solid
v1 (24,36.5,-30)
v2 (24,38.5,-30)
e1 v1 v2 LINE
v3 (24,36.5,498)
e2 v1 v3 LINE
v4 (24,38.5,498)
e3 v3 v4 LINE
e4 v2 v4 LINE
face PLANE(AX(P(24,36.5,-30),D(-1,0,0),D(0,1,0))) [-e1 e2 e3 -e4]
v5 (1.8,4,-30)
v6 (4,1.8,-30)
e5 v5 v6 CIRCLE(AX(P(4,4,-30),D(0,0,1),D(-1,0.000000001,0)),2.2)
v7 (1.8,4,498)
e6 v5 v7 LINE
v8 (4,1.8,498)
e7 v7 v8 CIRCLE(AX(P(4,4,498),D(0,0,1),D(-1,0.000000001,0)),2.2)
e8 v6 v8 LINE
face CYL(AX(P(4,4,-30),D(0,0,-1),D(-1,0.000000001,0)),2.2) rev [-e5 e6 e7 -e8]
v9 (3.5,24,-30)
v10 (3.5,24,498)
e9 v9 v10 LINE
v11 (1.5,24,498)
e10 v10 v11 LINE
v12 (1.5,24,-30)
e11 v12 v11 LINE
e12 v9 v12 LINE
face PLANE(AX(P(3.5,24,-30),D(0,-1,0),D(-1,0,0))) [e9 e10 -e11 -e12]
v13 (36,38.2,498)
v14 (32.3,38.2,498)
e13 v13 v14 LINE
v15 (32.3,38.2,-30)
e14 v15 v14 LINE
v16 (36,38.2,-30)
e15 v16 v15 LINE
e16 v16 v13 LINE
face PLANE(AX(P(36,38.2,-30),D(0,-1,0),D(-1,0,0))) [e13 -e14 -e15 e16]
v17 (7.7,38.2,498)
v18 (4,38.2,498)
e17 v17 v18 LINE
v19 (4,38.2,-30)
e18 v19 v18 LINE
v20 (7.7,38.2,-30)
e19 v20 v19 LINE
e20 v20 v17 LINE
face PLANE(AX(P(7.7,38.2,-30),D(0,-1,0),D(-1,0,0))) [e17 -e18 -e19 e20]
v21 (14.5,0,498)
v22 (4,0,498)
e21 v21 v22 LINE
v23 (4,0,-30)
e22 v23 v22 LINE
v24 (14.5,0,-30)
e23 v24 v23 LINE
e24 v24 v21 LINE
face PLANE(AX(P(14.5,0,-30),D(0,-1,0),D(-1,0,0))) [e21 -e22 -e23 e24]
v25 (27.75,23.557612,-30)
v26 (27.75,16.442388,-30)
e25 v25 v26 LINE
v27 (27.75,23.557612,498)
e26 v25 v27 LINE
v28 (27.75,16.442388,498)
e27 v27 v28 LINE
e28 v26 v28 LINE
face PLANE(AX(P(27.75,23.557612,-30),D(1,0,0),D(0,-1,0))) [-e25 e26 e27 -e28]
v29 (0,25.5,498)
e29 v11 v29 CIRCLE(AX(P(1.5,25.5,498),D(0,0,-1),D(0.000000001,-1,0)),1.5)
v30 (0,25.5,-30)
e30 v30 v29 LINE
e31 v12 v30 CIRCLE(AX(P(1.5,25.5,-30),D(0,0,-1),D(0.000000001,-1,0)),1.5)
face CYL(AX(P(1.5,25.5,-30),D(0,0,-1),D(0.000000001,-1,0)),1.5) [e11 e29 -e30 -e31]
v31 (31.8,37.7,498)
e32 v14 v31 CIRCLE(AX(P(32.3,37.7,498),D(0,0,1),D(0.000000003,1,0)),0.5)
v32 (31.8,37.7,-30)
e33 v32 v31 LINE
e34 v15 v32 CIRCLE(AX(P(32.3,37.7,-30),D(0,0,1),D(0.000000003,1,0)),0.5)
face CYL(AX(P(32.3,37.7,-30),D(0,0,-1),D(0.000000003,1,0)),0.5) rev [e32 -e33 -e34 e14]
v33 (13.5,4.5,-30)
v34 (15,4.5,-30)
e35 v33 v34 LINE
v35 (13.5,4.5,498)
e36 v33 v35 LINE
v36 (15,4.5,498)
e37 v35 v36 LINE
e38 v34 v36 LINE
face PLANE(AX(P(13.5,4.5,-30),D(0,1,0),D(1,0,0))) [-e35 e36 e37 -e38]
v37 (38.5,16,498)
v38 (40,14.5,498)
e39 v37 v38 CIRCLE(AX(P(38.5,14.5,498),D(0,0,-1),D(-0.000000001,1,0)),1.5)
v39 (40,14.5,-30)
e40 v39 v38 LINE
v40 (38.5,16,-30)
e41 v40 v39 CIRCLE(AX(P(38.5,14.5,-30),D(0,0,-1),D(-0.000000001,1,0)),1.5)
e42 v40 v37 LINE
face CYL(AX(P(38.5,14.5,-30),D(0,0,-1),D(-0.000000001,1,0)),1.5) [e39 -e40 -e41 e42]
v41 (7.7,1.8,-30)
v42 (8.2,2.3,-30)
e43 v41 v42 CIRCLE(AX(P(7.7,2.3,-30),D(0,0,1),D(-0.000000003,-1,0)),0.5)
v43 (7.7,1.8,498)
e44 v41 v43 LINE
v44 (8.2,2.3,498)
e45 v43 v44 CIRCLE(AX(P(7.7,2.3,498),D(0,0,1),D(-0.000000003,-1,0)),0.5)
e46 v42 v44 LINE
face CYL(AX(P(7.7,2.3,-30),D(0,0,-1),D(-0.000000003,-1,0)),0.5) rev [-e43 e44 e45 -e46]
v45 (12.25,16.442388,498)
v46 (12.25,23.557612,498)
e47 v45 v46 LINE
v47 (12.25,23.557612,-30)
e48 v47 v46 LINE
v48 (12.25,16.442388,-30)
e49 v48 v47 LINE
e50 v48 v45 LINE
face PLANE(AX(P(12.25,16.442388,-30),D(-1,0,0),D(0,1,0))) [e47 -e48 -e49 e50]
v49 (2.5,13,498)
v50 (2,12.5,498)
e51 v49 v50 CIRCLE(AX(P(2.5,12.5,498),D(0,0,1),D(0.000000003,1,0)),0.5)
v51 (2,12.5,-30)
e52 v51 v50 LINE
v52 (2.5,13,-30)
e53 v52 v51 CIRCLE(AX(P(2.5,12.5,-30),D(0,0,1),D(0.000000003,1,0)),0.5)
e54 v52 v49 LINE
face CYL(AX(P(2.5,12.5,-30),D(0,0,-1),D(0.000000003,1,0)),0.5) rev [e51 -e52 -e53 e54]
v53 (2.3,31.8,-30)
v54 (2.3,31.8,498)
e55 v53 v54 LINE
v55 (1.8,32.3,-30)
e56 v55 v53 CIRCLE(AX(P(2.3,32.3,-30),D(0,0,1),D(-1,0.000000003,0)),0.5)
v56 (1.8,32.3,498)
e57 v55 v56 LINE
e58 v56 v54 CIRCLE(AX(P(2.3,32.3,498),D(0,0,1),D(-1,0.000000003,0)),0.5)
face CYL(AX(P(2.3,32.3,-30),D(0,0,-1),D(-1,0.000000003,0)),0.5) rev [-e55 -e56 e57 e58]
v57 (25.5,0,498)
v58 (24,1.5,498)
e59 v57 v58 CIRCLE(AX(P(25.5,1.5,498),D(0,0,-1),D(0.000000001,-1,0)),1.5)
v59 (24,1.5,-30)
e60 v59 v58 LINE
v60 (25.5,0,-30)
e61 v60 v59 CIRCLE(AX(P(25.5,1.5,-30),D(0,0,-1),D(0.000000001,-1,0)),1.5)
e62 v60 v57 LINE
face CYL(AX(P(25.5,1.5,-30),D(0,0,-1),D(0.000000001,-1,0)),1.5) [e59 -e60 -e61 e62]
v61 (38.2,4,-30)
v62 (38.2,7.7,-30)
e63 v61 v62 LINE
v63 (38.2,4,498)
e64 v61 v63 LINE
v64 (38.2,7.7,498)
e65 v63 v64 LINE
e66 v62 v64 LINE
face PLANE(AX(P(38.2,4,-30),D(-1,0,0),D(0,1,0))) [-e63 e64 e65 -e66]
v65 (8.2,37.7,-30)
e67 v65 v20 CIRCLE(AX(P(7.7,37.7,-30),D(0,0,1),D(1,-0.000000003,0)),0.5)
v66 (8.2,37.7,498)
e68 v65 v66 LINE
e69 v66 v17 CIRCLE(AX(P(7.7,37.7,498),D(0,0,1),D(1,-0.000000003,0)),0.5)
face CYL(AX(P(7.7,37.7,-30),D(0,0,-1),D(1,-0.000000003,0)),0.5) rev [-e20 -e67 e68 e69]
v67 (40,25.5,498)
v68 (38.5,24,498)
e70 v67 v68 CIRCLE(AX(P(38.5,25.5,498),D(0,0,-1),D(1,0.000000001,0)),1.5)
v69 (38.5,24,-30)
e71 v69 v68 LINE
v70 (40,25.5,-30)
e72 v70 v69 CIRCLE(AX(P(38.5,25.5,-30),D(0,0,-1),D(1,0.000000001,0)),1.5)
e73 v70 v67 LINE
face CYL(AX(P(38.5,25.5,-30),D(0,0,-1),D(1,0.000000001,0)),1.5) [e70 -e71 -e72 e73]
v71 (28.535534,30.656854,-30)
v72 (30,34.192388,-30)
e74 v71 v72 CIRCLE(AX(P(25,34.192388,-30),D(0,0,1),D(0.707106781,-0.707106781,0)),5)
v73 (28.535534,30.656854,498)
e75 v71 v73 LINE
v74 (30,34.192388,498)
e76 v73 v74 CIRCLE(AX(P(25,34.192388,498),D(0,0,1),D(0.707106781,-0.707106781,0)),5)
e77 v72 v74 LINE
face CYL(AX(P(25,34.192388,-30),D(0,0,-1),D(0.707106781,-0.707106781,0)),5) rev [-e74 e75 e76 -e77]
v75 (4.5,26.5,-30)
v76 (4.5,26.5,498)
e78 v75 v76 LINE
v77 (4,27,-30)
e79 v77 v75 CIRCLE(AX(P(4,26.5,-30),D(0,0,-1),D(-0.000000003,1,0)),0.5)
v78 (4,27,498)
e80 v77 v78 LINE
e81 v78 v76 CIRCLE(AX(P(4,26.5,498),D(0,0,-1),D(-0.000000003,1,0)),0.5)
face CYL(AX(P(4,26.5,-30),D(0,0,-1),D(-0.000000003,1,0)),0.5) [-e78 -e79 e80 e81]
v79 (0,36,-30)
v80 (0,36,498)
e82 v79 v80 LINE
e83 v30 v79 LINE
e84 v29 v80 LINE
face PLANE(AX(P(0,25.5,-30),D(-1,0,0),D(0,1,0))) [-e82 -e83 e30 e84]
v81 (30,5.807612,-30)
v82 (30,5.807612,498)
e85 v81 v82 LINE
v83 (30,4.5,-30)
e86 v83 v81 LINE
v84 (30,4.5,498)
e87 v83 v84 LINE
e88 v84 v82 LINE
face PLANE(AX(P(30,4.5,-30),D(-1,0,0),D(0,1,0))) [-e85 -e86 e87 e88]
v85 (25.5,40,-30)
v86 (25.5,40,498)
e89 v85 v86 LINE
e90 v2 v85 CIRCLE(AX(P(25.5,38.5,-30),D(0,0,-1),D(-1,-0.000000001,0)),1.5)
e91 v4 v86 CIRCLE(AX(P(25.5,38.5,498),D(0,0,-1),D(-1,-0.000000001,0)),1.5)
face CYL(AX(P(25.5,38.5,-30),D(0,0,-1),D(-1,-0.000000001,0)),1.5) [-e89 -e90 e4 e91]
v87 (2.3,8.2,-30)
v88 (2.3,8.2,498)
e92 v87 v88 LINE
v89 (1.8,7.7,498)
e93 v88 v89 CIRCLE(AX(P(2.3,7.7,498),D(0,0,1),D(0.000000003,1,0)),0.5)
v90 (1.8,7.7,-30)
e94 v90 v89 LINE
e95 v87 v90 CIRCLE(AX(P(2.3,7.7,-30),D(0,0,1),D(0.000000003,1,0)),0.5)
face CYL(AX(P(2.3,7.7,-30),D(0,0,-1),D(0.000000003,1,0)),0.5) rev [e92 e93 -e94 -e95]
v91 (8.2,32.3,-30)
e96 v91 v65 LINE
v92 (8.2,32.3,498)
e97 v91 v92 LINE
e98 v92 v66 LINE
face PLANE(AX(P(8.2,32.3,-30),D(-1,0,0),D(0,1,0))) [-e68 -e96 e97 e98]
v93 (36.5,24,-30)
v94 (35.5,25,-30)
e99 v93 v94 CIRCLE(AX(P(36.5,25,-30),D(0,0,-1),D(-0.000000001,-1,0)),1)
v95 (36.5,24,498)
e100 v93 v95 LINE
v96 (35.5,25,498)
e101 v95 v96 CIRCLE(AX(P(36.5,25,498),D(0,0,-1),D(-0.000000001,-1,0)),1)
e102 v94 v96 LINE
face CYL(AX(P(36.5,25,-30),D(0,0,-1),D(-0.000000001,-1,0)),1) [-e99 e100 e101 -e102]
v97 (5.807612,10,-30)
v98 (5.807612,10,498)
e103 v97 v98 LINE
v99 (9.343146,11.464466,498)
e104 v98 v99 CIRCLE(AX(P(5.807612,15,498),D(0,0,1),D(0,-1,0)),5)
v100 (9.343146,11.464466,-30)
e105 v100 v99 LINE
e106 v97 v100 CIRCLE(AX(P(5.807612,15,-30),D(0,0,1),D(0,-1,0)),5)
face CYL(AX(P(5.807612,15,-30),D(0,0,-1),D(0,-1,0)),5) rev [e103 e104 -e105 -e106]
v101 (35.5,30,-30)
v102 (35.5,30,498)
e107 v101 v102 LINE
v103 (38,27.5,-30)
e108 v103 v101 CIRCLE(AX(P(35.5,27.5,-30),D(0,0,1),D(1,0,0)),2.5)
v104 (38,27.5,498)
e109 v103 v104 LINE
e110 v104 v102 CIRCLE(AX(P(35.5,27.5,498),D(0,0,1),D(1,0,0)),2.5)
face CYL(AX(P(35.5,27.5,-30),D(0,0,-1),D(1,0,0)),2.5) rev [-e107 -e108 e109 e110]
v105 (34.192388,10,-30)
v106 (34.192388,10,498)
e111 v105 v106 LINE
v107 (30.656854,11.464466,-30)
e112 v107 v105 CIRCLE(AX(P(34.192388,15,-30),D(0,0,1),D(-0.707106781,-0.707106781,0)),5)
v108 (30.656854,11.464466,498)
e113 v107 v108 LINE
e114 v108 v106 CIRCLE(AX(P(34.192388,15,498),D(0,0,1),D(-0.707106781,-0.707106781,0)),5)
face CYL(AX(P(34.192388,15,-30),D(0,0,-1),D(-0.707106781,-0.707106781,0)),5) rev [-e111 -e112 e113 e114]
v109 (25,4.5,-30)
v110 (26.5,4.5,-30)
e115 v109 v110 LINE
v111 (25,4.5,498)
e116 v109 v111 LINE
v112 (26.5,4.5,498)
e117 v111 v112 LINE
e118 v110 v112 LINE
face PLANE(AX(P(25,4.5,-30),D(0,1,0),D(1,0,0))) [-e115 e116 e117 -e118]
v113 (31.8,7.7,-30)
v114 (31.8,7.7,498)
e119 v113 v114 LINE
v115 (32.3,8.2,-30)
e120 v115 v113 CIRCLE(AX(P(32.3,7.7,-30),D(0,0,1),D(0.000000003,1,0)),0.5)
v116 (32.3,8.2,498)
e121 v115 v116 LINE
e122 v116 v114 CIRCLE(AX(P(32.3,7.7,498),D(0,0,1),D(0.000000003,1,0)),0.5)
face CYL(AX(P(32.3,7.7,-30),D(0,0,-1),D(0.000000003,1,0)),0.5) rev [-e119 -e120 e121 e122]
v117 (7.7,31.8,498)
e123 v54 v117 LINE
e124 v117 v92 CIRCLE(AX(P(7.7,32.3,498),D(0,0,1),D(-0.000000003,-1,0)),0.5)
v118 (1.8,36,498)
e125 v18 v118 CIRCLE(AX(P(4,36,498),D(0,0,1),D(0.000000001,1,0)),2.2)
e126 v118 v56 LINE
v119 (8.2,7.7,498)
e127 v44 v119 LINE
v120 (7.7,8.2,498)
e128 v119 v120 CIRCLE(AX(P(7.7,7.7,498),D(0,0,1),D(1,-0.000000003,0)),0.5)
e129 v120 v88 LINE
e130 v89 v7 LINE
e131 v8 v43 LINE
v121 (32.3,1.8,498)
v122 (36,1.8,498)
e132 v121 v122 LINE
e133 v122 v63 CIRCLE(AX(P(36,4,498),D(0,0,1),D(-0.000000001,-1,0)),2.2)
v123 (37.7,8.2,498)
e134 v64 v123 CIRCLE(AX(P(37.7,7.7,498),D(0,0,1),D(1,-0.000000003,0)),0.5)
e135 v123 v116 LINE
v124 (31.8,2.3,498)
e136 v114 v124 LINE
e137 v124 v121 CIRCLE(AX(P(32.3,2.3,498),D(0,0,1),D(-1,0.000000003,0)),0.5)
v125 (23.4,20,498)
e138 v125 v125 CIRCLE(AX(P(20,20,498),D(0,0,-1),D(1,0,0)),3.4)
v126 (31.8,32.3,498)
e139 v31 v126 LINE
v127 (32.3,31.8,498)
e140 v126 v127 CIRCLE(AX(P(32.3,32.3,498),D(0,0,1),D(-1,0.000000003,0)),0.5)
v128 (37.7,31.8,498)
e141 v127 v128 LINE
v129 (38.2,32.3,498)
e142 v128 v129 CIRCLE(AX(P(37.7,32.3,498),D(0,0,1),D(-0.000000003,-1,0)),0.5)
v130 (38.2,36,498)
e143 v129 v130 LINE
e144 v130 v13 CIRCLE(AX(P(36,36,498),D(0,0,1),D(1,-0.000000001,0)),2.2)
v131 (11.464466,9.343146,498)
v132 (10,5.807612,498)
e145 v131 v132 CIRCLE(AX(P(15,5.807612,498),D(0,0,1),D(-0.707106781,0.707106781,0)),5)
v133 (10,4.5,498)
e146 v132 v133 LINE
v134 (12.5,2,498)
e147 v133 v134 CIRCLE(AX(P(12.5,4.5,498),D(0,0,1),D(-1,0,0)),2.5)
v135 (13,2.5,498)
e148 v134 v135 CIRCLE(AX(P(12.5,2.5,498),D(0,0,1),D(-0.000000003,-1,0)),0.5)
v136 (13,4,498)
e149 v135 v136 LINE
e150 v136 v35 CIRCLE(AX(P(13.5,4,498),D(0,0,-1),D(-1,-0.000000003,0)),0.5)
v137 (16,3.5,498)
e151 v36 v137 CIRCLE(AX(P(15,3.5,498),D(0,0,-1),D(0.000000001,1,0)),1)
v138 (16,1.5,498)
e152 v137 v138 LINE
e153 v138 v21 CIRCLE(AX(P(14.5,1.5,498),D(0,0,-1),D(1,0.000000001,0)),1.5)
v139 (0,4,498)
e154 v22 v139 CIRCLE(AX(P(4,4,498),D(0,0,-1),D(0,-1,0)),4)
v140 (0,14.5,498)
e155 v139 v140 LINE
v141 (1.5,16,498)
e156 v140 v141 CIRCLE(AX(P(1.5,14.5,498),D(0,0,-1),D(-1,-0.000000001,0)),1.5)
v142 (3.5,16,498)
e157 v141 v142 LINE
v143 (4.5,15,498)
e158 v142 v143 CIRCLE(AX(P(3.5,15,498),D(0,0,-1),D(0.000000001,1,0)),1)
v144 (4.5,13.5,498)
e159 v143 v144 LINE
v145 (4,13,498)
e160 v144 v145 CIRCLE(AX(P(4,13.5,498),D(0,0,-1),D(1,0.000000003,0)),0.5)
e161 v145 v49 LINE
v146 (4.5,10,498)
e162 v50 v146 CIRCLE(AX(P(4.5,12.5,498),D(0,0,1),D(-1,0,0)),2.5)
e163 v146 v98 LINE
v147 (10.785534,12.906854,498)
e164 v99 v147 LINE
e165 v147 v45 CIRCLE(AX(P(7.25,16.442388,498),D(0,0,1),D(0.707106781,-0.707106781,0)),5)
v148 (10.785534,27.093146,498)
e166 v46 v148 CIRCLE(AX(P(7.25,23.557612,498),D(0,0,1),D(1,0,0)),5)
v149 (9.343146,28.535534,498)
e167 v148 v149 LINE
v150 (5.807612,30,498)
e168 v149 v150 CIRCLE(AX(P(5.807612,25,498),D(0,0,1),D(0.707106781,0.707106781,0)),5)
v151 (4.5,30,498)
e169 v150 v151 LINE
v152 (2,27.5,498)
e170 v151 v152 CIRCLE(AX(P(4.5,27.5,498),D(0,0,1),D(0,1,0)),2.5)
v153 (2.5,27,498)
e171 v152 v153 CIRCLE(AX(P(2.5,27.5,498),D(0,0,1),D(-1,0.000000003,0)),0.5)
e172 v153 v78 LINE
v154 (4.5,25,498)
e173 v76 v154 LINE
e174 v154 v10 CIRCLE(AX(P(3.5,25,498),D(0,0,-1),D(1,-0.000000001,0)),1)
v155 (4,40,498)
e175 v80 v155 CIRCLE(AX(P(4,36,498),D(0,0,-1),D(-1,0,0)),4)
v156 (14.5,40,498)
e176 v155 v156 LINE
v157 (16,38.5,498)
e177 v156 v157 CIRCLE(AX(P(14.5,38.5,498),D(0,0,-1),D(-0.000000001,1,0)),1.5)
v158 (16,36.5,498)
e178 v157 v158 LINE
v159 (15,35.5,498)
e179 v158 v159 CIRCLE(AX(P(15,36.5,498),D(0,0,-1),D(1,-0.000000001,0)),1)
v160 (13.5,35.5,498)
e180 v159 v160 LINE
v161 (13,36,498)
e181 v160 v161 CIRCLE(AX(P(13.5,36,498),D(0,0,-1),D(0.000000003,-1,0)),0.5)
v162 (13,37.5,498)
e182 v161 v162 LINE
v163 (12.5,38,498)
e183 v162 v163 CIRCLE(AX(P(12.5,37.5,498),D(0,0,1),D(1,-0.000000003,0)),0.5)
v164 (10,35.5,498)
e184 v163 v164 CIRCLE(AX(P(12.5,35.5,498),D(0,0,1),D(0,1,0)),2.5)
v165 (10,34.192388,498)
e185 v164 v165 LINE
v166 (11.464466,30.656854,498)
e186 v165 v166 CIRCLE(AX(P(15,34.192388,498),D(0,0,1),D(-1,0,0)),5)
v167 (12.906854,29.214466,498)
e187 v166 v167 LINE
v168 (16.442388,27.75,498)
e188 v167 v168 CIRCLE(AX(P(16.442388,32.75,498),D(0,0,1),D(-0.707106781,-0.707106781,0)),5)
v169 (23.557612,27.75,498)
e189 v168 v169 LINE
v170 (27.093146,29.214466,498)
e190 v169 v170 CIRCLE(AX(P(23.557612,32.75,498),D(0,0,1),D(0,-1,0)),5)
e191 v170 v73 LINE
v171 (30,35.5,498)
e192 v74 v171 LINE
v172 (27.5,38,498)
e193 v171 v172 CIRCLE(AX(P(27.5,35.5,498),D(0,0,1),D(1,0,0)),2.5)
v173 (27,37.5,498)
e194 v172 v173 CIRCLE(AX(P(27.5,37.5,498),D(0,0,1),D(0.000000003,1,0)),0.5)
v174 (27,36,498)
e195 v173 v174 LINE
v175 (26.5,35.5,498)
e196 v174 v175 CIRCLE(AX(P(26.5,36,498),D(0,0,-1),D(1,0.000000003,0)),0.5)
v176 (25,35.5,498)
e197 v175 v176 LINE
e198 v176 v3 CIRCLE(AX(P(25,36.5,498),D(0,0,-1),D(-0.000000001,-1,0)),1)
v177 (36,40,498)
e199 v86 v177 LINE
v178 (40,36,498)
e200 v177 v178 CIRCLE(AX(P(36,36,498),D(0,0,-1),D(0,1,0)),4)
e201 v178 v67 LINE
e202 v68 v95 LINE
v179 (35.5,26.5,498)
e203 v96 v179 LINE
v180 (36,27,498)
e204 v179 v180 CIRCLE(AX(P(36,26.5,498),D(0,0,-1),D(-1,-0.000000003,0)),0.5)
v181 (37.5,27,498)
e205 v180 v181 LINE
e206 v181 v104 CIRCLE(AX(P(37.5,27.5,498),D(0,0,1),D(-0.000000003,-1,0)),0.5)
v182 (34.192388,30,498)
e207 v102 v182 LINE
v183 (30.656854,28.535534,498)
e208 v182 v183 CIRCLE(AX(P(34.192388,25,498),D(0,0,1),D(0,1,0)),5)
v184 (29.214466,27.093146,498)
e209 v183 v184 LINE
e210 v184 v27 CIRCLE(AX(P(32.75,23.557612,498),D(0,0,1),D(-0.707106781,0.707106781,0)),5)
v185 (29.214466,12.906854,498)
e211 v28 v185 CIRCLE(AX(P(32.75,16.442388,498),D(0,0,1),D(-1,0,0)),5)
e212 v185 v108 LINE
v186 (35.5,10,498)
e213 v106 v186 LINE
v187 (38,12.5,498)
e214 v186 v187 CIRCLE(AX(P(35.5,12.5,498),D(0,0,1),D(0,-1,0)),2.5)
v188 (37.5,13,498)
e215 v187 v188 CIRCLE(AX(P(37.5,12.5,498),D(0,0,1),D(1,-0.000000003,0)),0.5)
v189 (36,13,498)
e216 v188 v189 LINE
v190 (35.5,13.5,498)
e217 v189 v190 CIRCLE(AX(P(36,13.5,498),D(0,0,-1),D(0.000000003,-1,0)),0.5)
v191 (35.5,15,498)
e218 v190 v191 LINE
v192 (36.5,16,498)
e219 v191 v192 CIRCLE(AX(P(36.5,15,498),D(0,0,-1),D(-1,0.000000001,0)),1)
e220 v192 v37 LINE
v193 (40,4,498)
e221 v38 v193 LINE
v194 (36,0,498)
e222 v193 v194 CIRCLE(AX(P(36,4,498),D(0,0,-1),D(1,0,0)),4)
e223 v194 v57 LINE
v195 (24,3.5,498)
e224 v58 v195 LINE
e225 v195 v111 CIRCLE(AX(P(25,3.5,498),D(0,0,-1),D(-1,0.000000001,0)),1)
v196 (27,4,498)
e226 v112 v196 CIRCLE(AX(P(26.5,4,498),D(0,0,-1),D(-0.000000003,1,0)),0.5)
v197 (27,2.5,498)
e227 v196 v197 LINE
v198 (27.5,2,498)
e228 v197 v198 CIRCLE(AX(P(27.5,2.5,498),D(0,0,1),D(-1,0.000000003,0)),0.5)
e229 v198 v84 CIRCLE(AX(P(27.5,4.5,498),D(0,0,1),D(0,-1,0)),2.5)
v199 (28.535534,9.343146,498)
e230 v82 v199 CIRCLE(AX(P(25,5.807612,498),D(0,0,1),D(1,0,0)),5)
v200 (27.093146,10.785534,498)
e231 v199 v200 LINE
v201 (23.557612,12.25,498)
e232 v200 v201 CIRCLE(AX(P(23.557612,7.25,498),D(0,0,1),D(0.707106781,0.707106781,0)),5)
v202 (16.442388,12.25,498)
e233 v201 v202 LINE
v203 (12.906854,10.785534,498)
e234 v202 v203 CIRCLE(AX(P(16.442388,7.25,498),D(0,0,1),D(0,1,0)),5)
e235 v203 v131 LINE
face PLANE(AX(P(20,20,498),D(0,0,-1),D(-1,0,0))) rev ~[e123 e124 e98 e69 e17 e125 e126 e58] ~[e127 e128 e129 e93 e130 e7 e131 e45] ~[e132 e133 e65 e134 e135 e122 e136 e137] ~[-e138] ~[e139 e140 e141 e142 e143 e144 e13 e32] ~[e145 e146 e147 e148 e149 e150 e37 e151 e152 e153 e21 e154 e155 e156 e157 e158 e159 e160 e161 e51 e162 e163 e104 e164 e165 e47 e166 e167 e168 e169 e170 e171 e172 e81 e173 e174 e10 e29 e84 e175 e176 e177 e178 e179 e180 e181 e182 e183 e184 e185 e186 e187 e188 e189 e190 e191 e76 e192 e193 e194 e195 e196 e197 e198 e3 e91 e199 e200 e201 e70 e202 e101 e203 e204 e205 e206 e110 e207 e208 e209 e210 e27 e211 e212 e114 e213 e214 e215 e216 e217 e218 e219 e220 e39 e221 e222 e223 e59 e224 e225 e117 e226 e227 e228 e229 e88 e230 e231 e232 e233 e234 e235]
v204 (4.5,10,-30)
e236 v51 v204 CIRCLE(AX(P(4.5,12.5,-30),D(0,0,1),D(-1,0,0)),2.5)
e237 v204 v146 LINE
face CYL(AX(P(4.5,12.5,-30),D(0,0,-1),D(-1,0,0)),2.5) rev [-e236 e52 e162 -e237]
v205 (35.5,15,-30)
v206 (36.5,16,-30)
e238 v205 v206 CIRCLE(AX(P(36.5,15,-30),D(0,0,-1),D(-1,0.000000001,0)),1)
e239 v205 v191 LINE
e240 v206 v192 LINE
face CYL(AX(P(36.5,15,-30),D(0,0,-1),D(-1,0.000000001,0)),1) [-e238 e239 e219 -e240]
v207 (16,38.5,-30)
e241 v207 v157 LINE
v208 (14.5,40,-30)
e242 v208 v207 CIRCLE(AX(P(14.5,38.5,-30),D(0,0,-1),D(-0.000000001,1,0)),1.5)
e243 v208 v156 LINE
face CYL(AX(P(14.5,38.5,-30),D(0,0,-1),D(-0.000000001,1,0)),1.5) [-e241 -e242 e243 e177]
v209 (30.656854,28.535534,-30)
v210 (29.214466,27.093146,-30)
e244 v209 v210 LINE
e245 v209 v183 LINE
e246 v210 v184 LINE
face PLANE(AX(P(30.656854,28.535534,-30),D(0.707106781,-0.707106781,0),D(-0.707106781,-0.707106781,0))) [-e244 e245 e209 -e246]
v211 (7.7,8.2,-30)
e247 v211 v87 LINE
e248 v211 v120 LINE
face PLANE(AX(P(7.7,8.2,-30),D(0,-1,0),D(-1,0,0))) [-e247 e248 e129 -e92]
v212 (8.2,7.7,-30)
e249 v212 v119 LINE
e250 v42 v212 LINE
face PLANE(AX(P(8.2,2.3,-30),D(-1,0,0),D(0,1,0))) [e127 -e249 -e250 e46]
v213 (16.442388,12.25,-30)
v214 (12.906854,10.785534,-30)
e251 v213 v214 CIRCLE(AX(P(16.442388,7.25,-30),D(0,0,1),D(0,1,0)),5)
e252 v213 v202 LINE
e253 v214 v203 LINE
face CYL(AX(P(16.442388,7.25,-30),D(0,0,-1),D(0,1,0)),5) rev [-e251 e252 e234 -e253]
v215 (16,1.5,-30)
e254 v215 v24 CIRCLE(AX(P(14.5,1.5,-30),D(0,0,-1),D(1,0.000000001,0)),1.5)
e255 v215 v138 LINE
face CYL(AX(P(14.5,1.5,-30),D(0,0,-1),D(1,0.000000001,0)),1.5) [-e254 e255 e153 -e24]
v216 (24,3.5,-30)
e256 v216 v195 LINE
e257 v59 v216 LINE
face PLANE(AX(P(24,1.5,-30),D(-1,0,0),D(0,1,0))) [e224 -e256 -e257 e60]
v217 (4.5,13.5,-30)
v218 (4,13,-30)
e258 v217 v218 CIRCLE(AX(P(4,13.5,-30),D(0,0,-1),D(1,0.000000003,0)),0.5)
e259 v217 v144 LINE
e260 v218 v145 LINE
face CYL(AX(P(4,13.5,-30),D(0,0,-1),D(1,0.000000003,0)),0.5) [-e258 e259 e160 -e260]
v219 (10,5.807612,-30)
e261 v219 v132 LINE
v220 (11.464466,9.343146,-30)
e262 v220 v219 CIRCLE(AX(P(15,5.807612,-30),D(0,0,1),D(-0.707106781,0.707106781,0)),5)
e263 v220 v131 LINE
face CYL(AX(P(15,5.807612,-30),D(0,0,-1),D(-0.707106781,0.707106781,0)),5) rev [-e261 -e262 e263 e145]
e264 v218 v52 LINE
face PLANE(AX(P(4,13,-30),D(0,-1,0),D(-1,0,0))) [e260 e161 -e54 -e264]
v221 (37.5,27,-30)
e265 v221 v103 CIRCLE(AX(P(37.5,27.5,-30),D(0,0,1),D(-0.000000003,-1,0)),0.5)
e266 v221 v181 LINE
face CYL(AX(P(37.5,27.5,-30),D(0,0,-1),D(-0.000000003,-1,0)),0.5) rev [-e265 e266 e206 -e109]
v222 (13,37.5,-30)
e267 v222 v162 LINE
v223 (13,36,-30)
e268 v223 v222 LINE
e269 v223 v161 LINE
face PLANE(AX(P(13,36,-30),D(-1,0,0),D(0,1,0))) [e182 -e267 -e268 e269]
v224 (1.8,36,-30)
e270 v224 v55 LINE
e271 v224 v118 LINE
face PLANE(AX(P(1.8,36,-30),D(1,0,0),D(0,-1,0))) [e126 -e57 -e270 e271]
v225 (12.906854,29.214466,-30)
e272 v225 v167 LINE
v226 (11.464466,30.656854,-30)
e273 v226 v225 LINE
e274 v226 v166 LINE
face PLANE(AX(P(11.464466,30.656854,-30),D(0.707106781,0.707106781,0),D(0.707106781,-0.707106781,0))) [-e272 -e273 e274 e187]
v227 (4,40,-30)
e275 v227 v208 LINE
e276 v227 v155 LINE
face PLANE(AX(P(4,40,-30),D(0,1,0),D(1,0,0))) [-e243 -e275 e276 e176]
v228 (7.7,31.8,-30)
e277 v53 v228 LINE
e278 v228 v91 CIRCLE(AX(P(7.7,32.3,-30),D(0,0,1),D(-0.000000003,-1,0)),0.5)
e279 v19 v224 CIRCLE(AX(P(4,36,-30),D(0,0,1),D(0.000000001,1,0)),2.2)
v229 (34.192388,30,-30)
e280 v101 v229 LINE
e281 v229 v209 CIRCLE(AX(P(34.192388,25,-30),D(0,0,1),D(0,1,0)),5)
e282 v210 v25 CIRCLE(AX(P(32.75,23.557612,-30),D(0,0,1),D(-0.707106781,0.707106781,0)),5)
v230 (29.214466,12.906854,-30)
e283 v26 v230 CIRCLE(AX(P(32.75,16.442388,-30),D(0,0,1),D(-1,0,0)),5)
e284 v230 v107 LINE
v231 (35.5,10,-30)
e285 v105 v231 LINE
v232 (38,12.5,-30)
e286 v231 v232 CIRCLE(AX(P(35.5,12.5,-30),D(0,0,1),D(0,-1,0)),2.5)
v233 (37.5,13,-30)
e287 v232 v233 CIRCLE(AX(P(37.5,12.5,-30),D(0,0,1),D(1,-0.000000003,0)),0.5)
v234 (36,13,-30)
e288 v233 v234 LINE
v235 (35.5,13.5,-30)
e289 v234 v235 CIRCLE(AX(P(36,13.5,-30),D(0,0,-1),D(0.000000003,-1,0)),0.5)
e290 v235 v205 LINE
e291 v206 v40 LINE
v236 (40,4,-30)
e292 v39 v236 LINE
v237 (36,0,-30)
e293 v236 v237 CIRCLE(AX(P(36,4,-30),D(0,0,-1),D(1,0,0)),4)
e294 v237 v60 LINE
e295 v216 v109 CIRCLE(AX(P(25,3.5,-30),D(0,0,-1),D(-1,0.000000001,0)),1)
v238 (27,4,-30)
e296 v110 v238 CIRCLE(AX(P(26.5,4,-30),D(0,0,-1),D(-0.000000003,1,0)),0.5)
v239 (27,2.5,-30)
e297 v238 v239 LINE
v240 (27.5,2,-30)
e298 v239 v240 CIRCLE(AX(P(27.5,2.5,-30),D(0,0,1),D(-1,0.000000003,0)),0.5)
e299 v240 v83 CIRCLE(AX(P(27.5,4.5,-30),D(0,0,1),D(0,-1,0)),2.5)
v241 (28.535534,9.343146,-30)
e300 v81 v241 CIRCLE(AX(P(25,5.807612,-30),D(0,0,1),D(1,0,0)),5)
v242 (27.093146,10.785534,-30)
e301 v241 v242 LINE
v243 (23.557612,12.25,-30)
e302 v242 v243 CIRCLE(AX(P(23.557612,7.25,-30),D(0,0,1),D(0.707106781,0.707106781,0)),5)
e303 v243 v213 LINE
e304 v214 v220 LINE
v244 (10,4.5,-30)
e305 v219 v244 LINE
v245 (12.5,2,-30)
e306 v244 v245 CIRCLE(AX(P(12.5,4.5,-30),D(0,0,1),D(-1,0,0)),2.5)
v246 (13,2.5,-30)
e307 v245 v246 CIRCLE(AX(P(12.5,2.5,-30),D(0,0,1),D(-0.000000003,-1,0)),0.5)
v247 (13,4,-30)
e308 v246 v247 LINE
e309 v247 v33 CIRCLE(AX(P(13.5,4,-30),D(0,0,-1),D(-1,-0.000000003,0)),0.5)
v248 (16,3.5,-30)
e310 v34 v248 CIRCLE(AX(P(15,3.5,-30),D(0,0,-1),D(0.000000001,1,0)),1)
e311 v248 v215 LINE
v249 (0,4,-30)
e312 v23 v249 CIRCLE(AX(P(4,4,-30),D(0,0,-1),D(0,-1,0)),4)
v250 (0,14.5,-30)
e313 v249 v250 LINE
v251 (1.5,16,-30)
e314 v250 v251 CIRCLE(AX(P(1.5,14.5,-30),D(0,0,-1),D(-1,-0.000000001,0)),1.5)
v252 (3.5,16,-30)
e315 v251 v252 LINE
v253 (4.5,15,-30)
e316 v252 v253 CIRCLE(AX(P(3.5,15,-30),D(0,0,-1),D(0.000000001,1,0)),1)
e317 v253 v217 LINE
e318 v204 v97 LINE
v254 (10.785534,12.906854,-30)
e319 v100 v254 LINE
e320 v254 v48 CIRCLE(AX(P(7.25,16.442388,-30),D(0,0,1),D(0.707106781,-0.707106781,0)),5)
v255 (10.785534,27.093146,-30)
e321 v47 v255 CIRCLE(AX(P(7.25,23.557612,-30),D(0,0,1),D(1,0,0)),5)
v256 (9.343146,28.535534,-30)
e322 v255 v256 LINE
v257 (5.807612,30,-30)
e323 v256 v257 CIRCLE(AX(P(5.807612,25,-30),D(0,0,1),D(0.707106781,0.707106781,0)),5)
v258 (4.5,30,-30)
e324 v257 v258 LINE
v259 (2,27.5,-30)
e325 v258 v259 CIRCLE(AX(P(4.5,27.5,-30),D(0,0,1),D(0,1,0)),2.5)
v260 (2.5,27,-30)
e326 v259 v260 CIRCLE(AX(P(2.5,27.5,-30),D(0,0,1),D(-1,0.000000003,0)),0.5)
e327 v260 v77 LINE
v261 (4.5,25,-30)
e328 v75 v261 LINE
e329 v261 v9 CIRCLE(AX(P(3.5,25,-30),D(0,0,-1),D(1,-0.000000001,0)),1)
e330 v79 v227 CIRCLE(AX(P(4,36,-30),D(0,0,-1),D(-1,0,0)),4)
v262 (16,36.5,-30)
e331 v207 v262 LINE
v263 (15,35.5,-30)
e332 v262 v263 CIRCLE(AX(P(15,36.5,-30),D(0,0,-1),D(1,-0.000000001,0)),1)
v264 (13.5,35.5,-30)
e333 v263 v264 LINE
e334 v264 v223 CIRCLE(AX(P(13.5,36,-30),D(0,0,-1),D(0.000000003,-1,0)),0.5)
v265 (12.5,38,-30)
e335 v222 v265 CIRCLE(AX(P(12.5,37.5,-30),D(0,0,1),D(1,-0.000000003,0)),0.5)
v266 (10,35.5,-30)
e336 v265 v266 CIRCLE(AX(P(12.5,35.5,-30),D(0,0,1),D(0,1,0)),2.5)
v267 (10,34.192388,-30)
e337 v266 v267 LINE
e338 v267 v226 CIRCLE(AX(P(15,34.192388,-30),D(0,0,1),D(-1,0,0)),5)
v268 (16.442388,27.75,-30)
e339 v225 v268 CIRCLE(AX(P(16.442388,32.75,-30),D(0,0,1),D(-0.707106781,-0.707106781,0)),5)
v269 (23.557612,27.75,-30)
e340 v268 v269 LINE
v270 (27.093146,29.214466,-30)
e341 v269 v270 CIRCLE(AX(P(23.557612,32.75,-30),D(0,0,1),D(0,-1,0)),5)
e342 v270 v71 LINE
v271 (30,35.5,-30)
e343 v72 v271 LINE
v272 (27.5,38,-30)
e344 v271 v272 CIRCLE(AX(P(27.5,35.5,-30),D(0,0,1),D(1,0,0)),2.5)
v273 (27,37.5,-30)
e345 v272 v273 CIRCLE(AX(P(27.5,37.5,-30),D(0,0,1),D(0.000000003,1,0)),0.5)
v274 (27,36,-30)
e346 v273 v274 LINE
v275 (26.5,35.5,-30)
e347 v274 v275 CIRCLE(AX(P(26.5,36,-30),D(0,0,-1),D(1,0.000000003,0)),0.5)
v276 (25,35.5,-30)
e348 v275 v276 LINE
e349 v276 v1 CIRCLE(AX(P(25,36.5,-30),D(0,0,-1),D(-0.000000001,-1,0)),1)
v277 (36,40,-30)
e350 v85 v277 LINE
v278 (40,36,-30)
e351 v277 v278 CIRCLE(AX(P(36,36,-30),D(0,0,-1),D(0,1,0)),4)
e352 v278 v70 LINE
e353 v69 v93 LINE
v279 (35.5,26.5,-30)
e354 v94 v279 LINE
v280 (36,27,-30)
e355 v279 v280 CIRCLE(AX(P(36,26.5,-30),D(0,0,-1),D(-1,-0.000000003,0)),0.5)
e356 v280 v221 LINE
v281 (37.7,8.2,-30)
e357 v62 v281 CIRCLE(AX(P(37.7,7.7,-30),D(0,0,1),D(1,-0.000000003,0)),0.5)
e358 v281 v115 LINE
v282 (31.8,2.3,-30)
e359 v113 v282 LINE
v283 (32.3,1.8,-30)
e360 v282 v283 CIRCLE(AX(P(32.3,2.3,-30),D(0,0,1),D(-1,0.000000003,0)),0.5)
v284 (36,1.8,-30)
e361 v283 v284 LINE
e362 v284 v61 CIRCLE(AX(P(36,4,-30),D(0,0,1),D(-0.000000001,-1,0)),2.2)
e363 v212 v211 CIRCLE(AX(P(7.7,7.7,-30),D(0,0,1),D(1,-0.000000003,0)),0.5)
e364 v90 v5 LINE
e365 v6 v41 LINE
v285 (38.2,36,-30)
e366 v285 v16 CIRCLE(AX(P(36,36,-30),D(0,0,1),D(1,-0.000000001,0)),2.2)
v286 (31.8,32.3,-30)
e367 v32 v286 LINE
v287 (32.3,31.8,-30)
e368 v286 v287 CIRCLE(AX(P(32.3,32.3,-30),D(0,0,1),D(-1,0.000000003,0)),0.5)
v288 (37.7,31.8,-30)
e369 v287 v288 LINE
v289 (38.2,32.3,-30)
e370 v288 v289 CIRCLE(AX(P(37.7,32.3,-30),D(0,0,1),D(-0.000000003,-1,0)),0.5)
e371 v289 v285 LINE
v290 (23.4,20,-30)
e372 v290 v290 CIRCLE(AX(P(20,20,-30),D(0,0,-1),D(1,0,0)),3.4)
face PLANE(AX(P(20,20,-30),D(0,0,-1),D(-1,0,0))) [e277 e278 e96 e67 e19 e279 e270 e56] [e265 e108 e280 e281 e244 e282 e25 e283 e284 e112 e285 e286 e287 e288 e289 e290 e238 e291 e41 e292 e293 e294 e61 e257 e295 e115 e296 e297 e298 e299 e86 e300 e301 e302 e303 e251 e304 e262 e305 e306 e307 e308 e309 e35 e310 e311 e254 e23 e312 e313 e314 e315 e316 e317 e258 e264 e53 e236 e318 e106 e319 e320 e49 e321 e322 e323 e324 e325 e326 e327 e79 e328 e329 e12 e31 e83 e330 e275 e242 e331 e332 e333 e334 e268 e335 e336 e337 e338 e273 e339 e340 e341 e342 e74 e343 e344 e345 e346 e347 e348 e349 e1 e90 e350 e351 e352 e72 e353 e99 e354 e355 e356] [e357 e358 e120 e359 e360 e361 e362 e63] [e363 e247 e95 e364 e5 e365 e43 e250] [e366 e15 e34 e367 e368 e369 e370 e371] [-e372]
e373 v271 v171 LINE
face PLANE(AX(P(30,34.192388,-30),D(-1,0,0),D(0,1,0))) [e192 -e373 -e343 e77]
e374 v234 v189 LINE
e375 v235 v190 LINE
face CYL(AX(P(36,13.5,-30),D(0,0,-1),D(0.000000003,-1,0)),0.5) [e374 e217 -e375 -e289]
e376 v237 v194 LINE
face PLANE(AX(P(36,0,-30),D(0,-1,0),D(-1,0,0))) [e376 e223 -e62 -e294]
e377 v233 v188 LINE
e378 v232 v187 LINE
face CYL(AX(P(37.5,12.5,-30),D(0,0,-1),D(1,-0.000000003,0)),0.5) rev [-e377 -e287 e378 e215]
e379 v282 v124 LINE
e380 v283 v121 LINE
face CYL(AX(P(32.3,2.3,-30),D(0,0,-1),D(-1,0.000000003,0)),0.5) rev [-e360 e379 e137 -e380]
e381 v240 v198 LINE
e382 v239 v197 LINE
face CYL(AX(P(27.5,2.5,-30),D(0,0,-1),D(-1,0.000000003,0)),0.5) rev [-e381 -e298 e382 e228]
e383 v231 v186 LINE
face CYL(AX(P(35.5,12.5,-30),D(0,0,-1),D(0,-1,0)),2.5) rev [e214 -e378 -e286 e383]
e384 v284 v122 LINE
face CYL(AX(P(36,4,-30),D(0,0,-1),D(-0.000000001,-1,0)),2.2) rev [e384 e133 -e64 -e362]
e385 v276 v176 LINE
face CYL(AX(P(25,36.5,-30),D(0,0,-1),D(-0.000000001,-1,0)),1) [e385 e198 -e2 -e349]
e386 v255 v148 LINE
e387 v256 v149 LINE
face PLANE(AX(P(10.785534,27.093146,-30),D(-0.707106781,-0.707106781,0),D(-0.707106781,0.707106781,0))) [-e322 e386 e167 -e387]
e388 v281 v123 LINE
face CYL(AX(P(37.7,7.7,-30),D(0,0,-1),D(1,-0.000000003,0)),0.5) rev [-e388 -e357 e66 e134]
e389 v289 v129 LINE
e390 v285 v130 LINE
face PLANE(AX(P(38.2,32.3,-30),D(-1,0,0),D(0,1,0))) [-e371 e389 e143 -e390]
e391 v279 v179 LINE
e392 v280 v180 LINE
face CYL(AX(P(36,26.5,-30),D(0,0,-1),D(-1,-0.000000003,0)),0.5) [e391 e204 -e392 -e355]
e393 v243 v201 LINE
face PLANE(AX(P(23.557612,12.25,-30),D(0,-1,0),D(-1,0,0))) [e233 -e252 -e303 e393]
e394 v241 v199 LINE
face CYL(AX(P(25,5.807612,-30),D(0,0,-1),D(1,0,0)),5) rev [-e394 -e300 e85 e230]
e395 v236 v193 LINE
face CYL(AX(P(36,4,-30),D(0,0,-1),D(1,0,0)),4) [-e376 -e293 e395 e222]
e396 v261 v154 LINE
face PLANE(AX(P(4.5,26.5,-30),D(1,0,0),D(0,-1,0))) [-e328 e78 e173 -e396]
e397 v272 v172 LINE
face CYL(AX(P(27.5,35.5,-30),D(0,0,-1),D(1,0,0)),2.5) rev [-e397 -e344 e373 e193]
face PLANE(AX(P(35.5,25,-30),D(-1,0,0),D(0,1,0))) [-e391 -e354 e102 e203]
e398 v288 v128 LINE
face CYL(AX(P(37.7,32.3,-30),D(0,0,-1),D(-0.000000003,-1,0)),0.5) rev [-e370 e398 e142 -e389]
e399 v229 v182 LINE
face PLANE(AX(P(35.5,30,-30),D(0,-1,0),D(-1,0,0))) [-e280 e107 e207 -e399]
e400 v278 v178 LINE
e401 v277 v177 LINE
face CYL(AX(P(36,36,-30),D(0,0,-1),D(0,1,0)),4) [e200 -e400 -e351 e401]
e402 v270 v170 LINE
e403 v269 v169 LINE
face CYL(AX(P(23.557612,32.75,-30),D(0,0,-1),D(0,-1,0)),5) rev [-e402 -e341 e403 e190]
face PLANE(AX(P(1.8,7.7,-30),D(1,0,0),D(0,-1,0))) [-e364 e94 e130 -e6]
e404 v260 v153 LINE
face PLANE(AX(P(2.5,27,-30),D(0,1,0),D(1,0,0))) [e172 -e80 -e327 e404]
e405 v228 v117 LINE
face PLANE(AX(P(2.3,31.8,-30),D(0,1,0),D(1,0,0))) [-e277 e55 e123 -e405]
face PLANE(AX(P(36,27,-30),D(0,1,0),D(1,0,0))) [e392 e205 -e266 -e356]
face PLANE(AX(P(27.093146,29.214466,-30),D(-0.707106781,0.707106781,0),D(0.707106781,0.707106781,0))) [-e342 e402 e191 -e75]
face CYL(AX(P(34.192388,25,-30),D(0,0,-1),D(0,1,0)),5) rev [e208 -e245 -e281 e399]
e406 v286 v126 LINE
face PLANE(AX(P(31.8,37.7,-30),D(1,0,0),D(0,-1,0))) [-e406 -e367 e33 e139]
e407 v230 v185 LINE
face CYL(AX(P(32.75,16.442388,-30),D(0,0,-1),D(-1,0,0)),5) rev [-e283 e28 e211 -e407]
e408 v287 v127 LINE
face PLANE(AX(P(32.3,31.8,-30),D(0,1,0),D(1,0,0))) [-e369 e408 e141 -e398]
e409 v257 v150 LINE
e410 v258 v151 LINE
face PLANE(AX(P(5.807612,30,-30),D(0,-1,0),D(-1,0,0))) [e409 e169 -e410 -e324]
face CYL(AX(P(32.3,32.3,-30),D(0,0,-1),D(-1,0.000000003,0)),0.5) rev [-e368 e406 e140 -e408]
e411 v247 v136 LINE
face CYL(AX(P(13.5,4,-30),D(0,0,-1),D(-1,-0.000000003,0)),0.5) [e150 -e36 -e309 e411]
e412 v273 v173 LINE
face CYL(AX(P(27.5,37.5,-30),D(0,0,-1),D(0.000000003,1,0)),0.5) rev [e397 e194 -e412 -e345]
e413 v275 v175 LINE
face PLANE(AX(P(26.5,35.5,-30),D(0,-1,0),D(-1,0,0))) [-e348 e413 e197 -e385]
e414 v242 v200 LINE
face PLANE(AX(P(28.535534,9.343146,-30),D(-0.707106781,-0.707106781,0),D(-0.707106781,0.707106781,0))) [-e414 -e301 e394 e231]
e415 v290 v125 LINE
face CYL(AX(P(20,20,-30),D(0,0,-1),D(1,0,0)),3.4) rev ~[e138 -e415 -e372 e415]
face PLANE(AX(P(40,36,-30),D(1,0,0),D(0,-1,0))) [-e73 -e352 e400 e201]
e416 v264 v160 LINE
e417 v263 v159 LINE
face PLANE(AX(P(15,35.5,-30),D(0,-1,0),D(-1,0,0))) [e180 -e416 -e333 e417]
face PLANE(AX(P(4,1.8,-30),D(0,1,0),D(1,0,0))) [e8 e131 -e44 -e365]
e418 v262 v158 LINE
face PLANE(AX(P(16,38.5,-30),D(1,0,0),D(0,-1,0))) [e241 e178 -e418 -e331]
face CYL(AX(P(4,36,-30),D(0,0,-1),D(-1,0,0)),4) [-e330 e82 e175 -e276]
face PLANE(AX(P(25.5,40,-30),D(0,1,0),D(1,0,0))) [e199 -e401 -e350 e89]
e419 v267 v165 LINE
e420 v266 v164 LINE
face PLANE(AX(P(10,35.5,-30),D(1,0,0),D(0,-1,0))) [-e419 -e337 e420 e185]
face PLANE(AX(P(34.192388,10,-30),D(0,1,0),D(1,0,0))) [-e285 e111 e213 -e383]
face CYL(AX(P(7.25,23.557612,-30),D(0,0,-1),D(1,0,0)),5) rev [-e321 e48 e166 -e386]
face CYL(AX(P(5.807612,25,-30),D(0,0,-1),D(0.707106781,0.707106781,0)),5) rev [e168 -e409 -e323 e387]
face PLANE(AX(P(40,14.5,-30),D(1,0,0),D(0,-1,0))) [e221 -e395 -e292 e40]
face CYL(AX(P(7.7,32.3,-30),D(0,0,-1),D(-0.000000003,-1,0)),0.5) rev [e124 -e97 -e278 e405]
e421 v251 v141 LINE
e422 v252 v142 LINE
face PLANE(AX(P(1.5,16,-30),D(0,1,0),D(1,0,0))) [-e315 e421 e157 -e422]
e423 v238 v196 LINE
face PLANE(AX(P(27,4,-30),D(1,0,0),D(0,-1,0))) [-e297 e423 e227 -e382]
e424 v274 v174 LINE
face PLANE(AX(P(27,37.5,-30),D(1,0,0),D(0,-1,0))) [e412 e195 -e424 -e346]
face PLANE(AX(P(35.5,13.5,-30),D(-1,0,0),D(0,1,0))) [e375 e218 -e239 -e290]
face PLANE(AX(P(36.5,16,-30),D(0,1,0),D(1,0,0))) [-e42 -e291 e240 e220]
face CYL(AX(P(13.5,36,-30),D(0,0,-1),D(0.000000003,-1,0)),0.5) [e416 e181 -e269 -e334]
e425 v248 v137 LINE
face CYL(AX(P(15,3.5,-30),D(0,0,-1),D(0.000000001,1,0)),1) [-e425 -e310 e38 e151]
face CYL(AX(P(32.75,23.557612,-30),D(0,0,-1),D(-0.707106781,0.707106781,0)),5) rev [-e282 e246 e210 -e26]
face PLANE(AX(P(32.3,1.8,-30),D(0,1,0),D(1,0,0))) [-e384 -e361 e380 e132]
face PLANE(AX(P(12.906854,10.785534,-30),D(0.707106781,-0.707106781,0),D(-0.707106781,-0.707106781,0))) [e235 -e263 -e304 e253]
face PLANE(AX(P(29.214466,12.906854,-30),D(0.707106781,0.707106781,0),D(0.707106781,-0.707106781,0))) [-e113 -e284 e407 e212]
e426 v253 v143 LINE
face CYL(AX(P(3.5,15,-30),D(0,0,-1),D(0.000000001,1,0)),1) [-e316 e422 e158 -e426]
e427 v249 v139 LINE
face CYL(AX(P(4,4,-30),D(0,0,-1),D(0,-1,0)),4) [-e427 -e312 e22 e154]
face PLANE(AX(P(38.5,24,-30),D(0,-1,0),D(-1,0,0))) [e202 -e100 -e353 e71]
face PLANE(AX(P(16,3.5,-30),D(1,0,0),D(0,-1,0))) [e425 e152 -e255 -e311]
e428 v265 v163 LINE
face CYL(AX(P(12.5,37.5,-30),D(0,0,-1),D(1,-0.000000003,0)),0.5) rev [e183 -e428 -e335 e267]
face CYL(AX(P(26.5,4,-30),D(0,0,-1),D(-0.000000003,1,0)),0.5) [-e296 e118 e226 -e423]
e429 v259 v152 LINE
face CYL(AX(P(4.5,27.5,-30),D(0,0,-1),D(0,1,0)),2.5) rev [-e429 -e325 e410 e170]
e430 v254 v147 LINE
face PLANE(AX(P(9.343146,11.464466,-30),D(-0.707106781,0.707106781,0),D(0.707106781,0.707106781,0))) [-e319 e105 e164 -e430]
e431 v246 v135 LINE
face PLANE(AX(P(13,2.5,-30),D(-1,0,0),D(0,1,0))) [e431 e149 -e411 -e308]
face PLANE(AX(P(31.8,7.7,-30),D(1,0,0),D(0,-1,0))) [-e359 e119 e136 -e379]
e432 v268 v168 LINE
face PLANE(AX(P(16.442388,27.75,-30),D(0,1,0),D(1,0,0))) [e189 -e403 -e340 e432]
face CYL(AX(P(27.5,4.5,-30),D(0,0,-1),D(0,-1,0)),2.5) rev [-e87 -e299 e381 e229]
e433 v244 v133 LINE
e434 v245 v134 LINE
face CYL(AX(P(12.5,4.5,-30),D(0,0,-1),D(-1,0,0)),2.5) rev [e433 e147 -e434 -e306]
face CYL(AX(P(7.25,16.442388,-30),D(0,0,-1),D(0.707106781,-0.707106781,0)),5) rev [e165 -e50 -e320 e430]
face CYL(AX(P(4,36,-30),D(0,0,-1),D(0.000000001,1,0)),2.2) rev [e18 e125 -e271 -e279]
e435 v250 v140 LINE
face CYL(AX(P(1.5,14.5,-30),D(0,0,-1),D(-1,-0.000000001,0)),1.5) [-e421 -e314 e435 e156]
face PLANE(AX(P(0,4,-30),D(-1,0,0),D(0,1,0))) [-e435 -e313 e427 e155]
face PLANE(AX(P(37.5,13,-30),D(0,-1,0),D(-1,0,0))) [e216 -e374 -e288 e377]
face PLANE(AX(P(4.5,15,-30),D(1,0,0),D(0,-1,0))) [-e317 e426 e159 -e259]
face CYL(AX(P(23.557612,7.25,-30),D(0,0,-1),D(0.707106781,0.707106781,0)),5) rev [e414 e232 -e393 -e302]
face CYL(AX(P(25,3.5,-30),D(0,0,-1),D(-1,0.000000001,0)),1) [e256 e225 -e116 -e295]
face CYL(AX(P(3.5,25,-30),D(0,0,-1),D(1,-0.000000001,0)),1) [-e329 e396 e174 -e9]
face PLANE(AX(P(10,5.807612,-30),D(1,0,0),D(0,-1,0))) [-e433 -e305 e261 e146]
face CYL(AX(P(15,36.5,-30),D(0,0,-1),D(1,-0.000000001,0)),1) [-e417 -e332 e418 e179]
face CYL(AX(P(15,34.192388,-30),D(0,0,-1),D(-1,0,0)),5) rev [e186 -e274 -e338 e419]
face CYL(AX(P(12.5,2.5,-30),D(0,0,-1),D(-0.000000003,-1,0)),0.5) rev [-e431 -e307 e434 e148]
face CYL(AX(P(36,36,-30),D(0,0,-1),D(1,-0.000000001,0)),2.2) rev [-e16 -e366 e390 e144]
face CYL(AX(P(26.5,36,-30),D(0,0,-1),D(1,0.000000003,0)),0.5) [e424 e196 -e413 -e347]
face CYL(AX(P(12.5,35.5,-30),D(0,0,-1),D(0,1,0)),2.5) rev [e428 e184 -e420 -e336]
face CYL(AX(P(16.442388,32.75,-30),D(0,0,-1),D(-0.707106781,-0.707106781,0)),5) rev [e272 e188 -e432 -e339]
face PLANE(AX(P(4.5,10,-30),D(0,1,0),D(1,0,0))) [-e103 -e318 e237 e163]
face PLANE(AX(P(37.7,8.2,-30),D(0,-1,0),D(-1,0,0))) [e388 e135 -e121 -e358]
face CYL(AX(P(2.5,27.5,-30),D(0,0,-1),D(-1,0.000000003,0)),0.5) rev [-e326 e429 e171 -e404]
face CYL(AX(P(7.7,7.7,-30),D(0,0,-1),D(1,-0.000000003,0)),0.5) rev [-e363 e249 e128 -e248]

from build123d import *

# Parameters (mm, degrees)
ESQUISSE1_R        = 3.4
BOSS_EXTRU_1_DEPTH = 528


with BuildPart() as part:
    # Esquisse1 → Boss.-Extru.1 (new body)
    with BuildSketch(Plane(origin=(0, 0, -30), x_dir=(-1, 0, 0), z_dir=(0, 0, -1))):
        with BuildLine():
            Line((-4.5, 15), (-4.5, 13.5))
            ThreePointArc((-4.5, 13.5), (-4.353553391, 13.146446609), (-4, 13))
            Line((-4, 13), (-2.5, 13))
            ThreePointArc((-2.5, 13), (-2.146446609, 12.853553391), (-2, 12.5))
            ThreePointArc((-2, 12.5), (-2.732233047, 10.732233047), (-4.5, 10))
            Line((-4.5, 10), (-5.807611845, 10))
            ThreePointArc((-5.807611845, 10), (-7.721029006, 10.380602337), (-9.343145751, 11.464466094))
            Line((-9.343145751, 11.464466094), (-10.785533906, 12.906854249))
            ThreePointArc((-10.785533906, 12.906854249), (-11.869397663, 14.528970994), (-12.25, 16.442388155))
            Line((-12.25, 16.442388155), (-12.25, 23.557611845))
            ThreePointArc((-12.25, 23.557611845), (-11.869397663, 25.471029006), (-10.785533906, 27.093145751))
            Line((-10.785533906, 27.093145751), (-9.343145751, 28.535533906))
            ThreePointArc((-9.343145751, 28.535533906), (-7.721029006, 29.619397663), (-5.807611845, 30))
            Line((-5.807611845, 30), (-4.5, 30))
            ThreePointArc((-4.5, 30), (-2.732233047, 29.267766953), (-2, 27.5))
            ThreePointArc((-2, 27.5), (-2.146446609, 27.146446609), (-2.5, 27))
            Line((-2.5, 27), (-4, 27))
            ThreePointArc((-4, 27), (-4.353553391, 26.853553391), (-4.5, 26.5))
            Line((-4.5, 26.5), (-4.5, 25))
            ThreePointArc((-4.5, 25), (-4.207106781, 24.292893219), (-3.5, 24))
            Line((-3.5, 24), (-1.5, 24))
            ThreePointArc((-1.5, 24), (-0.439339828, 24.439339828), (0, 25.5))
            Line((0, 25.5), (0, 36))
            ThreePointArc((0, 36), (-1.171572875, 38.828427125), (-4, 40))
            Line((-4, 40), (-14.5, 40))
            ThreePointArc((-14.5, 40), (-15.560660172, 39.560660172), (-16, 38.5))
            Line((-16, 38.5), (-16, 36.5))
            ThreePointArc((-16, 36.5), (-15.707106781, 35.792893219), (-15, 35.5))
            Line((-15, 35.5), (-13.5, 35.5))
            ThreePointArc((-13.5, 35.5), (-13.146446609, 35.646446609), (-13, 36))
            Line((-13, 36), (-13, 37.5))
            ThreePointArc((-13, 37.5), (-12.853553391, 37.853553391), (-12.5, 38))
            ThreePointArc((-12.5, 38), (-10.732233047, 37.267766953), (-10, 35.5))
            Line((-10, 35.5), (-10, 34.192388155))
            ThreePointArc((-10, 34.192388155), (-10.380602337, 32.278970994), (-11.464466094, 30.656854249))
            Line((-11.464466094, 30.656854249), (-12.906854249, 29.214466094))
            ThreePointArc((-12.906854249, 29.214466094), (-14.528970994, 28.130602337), (-16.442388155, 27.75))
            Line((-16.442388155, 27.75), (-23.557611845, 27.75))
            ThreePointArc((-23.557611845, 27.75), (-25.471029006, 28.130602337), (-27.093145751, 29.214466094))
            Line((-27.093145751, 29.214466094), (-28.535533906, 30.656854249))
            ThreePointArc((-28.535533906, 30.656854249), (-29.619397663, 32.278970994), (-30, 34.192388155))
            Line((-30, 34.192388155), (-30, 35.5))
            ThreePointArc((-30, 35.5), (-29.267766953, 37.267766953), (-27.5, 38))
            ThreePointArc((-27.5, 38), (-27.146446609, 37.853553391), (-27, 37.5))
            Line((-27, 37.5), (-27, 36))
            ThreePointArc((-27, 36), (-26.853553391, 35.646446609), (-26.5, 35.5))
            Line((-26.5, 35.5), (-25, 35.5))
            ThreePointArc((-25, 35.5), (-24.292893219, 35.792893219), (-24, 36.5))
            Line((-24, 36.5), (-24, 38.5))
            ThreePointArc((-24, 38.5), (-24.439339828, 39.560660172), (-25.5, 40))
            Line((-25.5, 40), (-36, 40))
            ThreePointArc((-36, 40), (-38.828427125, 38.828427125), (-40, 36))
            Line((-40, 36), (-40, 25.5))
            ThreePointArc((-40, 25.5), (-39.560660172, 24.439339828), (-38.5, 24))
            Line((-38.5, 24), (-36.5, 24))
            ThreePointArc((-36.5, 24), (-35.792893219, 24.292893219), (-35.5, 25))
            Line((-35.5, 25), (-35.5, 26.5))
            ThreePointArc((-35.5, 26.5), (-35.646446609, 26.853553391), (-36, 27))
            Line((-36, 27), (-37.5, 27))
            ThreePointArc((-37.5, 27), (-37.853553391, 27.146446609), (-38, 27.5))
            ThreePointArc((-38, 27.5), (-37.267766953, 29.267766953), (-35.5, 30))
            Line((-35.5, 30), (-34.192388155, 30))
            ThreePointArc((-34.192388155, 30), (-32.278970994, 29.619397663), (-30.656854249, 28.535533906))
            Line((-30.656854249, 28.535533906), (-29.214466094, 27.093145751))
            ThreePointArc((-29.214466094, 27.093145751), (-28.130602337, 25.471029006), (-27.75, 23.557611845))
            Line((-27.75, 23.557611845), (-27.75, 16.442388155))
            ThreePointArc((-27.75, 16.442388155), (-28.130602337, 14.528970994), (-29.214466094, 12.906854249))
            Line((-29.214466094, 12.906854249), (-30.656854249, 11.464466094))
            ThreePointArc((-30.656854249, 11.464466094), (-32.278970994, 10.380602337), (-34.192388155, 10))
            Line((-34.192388155, 10), (-35.5, 10))
            ThreePointArc((-35.5, 10), (-37.267766953, 10.732233047), (-38, 12.5))
            ThreePointArc((-38, 12.5), (-37.853553391, 12.853553391), (-37.5, 13))
            Line((-37.5, 13), (-36, 13))
            ThreePointArc((-36, 13), (-35.646446609, 13.146446609), (-35.5, 13.5))
            Line((-35.5, 13.5), (-35.5, 15))
            ThreePointArc((-35.5, 15), (-35.792893219, 15.707106781), (-36.5, 16))
            Line((-36.5, 16), (-38.5, 16))
            ThreePointArc((-38.5, 16), (-39.560660172, 15.560660172), (-40, 14.5))
            Line((-40, 14.5), (-40, 4))
            ThreePointArc((-40, 4), (-38.828427125, 1.171572875), (-36, 0))
            Line((-36, 0), (-25.5, 0))
            ThreePointArc((-25.5, 0), (-24.439339828, 0.439339828), (-24, 1.5))
            Line((-24, 1.5), (-24, 3.5))
            ThreePointArc((-24, 3.5), (-24.292893219, 4.207106781), (-25, 4.5))
            Line((-25, 4.5), (-26.5, 4.5))
            ThreePointArc((-26.5, 4.5), (-26.853553391, 4.353553391), (-27, 4))
            Line((-27, 4), (-27, 2.5))
            ThreePointArc((-27, 2.5), (-27.146446609, 2.146446609), (-27.5, 2))
            ThreePointArc((-27.5, 2), (-29.267766953, 2.732233047), (-30, 4.5))
            Line((-30, 4.5), (-30, 5.807611845))
            ThreePointArc((-30, 5.807611845), (-29.619397663, 7.721029006), (-28.535533906, 9.343145751))
            Line((-28.535533906, 9.343145751), (-27.093145751, 10.785533906))
            ThreePointArc((-27.093145751, 10.785533906), (-25.471029006, 11.869397663), (-23.557611845, 12.25))
            Line((-23.557611845, 12.25), (-16.442388155, 12.25))
            ThreePointArc((-16.442388155, 12.25), (-14.528970994, 11.869397663), (-12.906854249, 10.785533906))
            Line((-12.906854249, 10.785533906), (-11.464466094, 9.343145751))
            ThreePointArc((-11.464466094, 9.343145751), (-10.380602337, 7.721029006), (-10, 5.807611845))
            Line((-10, 5.807611845), (-10, 4.5))
            ThreePointArc((-10, 4.5), (-10.732233047, 2.732233047), (-12.5, 2))
            ThreePointArc((-12.5, 2), (-12.853553391, 2.146446609), (-13, 2.5))
            Line((-13, 2.5), (-13, 4))
            ThreePointArc((-13, 4), (-13.146446609, 4.353553391), (-13.5, 4.5))
            Line((-13.5, 4.5), (-15, 4.5))
            ThreePointArc((-15, 4.5), (-15.707106781, 4.207106781), (-16, 3.5))
            Line((-16, 3.5), (-16, 1.5))
            ThreePointArc((-16, 1.5), (-15.560660172, 0.439339828), (-14.5, 0))
            Line((-14.5, 0), (-4, 0))
            ThreePointArc((-4, 0), (-1.171572875, 1.171572875), (0, 4))
            Line((0, 4), (0, 14.5))
            ThreePointArc((0, 14.5), (-0.439339828, 15.560660172), (-1.5, 16))
            Line((-1.5, 16), (-3.5, 16))
            ThreePointArc((-3.5, 16), (-4.207106781, 15.707106781), (-4.5, 15))
        make_face()
        with Locations(Location((-20, 20, 0), (0, 0, 180))):
            Circle(ESQUISSE1_R, mode=Mode.SUBTRACT)
        with BuildLine():
            Line((-4, 1.8), (-7.7, 1.8))
            ThreePointArc((-7.7, 1.8), (-8.053553391, 1.946446609), (-8.2, 2.3))
            Line((-8.2, 2.3), (-8.2, 7.7))
            ThreePointArc((-8.2, 7.7), (-8.053553391, 8.053553391), (-7.7, 8.2))
            Line((-7.7, 8.2), (-2.3, 8.2))
            ThreePointArc((-2.3, 8.2), (-1.946446609, 8.053553391), (-1.8, 7.7))
            Line((-1.8, 7.7), (-1.8, 4))
            ThreePointArc((-1.8, 4), (-2.444365081, 2.444365081), (-4, 1.8))
        make_face(mode=Mode.SUBTRACT)
        with BuildLine():
            Line((-38.2, 4), (-38.2, 7.7))
            ThreePointArc((-38.2, 7.7), (-38.053553391, 8.053553391), (-37.7, 8.2))
            Line((-37.7, 8.2), (-32.3, 8.2))
            ThreePointArc((-32.3, 8.2), (-31.946446609, 8.053553391), (-31.8, 7.7))
            Line((-31.8, 7.7), (-31.8, 2.3))
            ThreePointArc((-31.8, 2.3), (-31.946446609, 1.946446609), (-32.3, 1.8))
            Line((-32.3, 1.8), (-36, 1.8))
            ThreePointArc((-36, 1.8), (-37.555634919, 2.444365081), (-38.2, 4))
        make_face(mode=Mode.SUBTRACT)
        with BuildLine():
            Line((-36, 38.2), (-32.3, 38.2))
            ThreePointArc((-32.3, 38.2), (-31.946446609, 38.053553391), (-31.8, 37.7))
            Line((-31.8, 37.7), (-31.8, 32.3))
            ThreePointArc((-31.8, 32.3), (-31.946446609, 31.946446609), (-32.3, 31.8))
            Line((-32.3, 31.8), (-37.7, 31.8))
            ThreePointArc((-37.7, 31.8), (-38.053553391, 31.946446609), (-38.2, 32.3))
            Line((-38.2, 32.3), (-38.2, 36))
            ThreePointArc((-38.2, 36), (-37.555634919, 37.555634919), (-36, 38.2))
        make_face(mode=Mode.SUBTRACT)
        with BuildLine():
            Line((-1.8, 36), (-1.8, 32.3))
            ThreePointArc((-1.8, 32.3), (-1.946446609, 31.946446609), (-2.3, 31.8))
            Line((-2.3, 31.8), (-7.7, 31.8))
            ThreePointArc((-7.7, 31.8), (-8.053553391, 31.946446609), (-8.2, 32.3))
            Line((-8.2, 32.3), (-8.2, 37.7))
            ThreePointArc((-8.2, 37.7), (-8.053553391, 38.053553391), (-7.7, 38.2))
            Line((-7.7, 38.2), (-4, 38.2))
            ThreePointArc((-4, 38.2), (-2.444365081, 37.555634919), (-1.8, 36))
        make_face(mode=Mode.SUBTRACT)
    extrude(amount=-BOSS_EXTRU_1_DEPTH)


solid = part.part
